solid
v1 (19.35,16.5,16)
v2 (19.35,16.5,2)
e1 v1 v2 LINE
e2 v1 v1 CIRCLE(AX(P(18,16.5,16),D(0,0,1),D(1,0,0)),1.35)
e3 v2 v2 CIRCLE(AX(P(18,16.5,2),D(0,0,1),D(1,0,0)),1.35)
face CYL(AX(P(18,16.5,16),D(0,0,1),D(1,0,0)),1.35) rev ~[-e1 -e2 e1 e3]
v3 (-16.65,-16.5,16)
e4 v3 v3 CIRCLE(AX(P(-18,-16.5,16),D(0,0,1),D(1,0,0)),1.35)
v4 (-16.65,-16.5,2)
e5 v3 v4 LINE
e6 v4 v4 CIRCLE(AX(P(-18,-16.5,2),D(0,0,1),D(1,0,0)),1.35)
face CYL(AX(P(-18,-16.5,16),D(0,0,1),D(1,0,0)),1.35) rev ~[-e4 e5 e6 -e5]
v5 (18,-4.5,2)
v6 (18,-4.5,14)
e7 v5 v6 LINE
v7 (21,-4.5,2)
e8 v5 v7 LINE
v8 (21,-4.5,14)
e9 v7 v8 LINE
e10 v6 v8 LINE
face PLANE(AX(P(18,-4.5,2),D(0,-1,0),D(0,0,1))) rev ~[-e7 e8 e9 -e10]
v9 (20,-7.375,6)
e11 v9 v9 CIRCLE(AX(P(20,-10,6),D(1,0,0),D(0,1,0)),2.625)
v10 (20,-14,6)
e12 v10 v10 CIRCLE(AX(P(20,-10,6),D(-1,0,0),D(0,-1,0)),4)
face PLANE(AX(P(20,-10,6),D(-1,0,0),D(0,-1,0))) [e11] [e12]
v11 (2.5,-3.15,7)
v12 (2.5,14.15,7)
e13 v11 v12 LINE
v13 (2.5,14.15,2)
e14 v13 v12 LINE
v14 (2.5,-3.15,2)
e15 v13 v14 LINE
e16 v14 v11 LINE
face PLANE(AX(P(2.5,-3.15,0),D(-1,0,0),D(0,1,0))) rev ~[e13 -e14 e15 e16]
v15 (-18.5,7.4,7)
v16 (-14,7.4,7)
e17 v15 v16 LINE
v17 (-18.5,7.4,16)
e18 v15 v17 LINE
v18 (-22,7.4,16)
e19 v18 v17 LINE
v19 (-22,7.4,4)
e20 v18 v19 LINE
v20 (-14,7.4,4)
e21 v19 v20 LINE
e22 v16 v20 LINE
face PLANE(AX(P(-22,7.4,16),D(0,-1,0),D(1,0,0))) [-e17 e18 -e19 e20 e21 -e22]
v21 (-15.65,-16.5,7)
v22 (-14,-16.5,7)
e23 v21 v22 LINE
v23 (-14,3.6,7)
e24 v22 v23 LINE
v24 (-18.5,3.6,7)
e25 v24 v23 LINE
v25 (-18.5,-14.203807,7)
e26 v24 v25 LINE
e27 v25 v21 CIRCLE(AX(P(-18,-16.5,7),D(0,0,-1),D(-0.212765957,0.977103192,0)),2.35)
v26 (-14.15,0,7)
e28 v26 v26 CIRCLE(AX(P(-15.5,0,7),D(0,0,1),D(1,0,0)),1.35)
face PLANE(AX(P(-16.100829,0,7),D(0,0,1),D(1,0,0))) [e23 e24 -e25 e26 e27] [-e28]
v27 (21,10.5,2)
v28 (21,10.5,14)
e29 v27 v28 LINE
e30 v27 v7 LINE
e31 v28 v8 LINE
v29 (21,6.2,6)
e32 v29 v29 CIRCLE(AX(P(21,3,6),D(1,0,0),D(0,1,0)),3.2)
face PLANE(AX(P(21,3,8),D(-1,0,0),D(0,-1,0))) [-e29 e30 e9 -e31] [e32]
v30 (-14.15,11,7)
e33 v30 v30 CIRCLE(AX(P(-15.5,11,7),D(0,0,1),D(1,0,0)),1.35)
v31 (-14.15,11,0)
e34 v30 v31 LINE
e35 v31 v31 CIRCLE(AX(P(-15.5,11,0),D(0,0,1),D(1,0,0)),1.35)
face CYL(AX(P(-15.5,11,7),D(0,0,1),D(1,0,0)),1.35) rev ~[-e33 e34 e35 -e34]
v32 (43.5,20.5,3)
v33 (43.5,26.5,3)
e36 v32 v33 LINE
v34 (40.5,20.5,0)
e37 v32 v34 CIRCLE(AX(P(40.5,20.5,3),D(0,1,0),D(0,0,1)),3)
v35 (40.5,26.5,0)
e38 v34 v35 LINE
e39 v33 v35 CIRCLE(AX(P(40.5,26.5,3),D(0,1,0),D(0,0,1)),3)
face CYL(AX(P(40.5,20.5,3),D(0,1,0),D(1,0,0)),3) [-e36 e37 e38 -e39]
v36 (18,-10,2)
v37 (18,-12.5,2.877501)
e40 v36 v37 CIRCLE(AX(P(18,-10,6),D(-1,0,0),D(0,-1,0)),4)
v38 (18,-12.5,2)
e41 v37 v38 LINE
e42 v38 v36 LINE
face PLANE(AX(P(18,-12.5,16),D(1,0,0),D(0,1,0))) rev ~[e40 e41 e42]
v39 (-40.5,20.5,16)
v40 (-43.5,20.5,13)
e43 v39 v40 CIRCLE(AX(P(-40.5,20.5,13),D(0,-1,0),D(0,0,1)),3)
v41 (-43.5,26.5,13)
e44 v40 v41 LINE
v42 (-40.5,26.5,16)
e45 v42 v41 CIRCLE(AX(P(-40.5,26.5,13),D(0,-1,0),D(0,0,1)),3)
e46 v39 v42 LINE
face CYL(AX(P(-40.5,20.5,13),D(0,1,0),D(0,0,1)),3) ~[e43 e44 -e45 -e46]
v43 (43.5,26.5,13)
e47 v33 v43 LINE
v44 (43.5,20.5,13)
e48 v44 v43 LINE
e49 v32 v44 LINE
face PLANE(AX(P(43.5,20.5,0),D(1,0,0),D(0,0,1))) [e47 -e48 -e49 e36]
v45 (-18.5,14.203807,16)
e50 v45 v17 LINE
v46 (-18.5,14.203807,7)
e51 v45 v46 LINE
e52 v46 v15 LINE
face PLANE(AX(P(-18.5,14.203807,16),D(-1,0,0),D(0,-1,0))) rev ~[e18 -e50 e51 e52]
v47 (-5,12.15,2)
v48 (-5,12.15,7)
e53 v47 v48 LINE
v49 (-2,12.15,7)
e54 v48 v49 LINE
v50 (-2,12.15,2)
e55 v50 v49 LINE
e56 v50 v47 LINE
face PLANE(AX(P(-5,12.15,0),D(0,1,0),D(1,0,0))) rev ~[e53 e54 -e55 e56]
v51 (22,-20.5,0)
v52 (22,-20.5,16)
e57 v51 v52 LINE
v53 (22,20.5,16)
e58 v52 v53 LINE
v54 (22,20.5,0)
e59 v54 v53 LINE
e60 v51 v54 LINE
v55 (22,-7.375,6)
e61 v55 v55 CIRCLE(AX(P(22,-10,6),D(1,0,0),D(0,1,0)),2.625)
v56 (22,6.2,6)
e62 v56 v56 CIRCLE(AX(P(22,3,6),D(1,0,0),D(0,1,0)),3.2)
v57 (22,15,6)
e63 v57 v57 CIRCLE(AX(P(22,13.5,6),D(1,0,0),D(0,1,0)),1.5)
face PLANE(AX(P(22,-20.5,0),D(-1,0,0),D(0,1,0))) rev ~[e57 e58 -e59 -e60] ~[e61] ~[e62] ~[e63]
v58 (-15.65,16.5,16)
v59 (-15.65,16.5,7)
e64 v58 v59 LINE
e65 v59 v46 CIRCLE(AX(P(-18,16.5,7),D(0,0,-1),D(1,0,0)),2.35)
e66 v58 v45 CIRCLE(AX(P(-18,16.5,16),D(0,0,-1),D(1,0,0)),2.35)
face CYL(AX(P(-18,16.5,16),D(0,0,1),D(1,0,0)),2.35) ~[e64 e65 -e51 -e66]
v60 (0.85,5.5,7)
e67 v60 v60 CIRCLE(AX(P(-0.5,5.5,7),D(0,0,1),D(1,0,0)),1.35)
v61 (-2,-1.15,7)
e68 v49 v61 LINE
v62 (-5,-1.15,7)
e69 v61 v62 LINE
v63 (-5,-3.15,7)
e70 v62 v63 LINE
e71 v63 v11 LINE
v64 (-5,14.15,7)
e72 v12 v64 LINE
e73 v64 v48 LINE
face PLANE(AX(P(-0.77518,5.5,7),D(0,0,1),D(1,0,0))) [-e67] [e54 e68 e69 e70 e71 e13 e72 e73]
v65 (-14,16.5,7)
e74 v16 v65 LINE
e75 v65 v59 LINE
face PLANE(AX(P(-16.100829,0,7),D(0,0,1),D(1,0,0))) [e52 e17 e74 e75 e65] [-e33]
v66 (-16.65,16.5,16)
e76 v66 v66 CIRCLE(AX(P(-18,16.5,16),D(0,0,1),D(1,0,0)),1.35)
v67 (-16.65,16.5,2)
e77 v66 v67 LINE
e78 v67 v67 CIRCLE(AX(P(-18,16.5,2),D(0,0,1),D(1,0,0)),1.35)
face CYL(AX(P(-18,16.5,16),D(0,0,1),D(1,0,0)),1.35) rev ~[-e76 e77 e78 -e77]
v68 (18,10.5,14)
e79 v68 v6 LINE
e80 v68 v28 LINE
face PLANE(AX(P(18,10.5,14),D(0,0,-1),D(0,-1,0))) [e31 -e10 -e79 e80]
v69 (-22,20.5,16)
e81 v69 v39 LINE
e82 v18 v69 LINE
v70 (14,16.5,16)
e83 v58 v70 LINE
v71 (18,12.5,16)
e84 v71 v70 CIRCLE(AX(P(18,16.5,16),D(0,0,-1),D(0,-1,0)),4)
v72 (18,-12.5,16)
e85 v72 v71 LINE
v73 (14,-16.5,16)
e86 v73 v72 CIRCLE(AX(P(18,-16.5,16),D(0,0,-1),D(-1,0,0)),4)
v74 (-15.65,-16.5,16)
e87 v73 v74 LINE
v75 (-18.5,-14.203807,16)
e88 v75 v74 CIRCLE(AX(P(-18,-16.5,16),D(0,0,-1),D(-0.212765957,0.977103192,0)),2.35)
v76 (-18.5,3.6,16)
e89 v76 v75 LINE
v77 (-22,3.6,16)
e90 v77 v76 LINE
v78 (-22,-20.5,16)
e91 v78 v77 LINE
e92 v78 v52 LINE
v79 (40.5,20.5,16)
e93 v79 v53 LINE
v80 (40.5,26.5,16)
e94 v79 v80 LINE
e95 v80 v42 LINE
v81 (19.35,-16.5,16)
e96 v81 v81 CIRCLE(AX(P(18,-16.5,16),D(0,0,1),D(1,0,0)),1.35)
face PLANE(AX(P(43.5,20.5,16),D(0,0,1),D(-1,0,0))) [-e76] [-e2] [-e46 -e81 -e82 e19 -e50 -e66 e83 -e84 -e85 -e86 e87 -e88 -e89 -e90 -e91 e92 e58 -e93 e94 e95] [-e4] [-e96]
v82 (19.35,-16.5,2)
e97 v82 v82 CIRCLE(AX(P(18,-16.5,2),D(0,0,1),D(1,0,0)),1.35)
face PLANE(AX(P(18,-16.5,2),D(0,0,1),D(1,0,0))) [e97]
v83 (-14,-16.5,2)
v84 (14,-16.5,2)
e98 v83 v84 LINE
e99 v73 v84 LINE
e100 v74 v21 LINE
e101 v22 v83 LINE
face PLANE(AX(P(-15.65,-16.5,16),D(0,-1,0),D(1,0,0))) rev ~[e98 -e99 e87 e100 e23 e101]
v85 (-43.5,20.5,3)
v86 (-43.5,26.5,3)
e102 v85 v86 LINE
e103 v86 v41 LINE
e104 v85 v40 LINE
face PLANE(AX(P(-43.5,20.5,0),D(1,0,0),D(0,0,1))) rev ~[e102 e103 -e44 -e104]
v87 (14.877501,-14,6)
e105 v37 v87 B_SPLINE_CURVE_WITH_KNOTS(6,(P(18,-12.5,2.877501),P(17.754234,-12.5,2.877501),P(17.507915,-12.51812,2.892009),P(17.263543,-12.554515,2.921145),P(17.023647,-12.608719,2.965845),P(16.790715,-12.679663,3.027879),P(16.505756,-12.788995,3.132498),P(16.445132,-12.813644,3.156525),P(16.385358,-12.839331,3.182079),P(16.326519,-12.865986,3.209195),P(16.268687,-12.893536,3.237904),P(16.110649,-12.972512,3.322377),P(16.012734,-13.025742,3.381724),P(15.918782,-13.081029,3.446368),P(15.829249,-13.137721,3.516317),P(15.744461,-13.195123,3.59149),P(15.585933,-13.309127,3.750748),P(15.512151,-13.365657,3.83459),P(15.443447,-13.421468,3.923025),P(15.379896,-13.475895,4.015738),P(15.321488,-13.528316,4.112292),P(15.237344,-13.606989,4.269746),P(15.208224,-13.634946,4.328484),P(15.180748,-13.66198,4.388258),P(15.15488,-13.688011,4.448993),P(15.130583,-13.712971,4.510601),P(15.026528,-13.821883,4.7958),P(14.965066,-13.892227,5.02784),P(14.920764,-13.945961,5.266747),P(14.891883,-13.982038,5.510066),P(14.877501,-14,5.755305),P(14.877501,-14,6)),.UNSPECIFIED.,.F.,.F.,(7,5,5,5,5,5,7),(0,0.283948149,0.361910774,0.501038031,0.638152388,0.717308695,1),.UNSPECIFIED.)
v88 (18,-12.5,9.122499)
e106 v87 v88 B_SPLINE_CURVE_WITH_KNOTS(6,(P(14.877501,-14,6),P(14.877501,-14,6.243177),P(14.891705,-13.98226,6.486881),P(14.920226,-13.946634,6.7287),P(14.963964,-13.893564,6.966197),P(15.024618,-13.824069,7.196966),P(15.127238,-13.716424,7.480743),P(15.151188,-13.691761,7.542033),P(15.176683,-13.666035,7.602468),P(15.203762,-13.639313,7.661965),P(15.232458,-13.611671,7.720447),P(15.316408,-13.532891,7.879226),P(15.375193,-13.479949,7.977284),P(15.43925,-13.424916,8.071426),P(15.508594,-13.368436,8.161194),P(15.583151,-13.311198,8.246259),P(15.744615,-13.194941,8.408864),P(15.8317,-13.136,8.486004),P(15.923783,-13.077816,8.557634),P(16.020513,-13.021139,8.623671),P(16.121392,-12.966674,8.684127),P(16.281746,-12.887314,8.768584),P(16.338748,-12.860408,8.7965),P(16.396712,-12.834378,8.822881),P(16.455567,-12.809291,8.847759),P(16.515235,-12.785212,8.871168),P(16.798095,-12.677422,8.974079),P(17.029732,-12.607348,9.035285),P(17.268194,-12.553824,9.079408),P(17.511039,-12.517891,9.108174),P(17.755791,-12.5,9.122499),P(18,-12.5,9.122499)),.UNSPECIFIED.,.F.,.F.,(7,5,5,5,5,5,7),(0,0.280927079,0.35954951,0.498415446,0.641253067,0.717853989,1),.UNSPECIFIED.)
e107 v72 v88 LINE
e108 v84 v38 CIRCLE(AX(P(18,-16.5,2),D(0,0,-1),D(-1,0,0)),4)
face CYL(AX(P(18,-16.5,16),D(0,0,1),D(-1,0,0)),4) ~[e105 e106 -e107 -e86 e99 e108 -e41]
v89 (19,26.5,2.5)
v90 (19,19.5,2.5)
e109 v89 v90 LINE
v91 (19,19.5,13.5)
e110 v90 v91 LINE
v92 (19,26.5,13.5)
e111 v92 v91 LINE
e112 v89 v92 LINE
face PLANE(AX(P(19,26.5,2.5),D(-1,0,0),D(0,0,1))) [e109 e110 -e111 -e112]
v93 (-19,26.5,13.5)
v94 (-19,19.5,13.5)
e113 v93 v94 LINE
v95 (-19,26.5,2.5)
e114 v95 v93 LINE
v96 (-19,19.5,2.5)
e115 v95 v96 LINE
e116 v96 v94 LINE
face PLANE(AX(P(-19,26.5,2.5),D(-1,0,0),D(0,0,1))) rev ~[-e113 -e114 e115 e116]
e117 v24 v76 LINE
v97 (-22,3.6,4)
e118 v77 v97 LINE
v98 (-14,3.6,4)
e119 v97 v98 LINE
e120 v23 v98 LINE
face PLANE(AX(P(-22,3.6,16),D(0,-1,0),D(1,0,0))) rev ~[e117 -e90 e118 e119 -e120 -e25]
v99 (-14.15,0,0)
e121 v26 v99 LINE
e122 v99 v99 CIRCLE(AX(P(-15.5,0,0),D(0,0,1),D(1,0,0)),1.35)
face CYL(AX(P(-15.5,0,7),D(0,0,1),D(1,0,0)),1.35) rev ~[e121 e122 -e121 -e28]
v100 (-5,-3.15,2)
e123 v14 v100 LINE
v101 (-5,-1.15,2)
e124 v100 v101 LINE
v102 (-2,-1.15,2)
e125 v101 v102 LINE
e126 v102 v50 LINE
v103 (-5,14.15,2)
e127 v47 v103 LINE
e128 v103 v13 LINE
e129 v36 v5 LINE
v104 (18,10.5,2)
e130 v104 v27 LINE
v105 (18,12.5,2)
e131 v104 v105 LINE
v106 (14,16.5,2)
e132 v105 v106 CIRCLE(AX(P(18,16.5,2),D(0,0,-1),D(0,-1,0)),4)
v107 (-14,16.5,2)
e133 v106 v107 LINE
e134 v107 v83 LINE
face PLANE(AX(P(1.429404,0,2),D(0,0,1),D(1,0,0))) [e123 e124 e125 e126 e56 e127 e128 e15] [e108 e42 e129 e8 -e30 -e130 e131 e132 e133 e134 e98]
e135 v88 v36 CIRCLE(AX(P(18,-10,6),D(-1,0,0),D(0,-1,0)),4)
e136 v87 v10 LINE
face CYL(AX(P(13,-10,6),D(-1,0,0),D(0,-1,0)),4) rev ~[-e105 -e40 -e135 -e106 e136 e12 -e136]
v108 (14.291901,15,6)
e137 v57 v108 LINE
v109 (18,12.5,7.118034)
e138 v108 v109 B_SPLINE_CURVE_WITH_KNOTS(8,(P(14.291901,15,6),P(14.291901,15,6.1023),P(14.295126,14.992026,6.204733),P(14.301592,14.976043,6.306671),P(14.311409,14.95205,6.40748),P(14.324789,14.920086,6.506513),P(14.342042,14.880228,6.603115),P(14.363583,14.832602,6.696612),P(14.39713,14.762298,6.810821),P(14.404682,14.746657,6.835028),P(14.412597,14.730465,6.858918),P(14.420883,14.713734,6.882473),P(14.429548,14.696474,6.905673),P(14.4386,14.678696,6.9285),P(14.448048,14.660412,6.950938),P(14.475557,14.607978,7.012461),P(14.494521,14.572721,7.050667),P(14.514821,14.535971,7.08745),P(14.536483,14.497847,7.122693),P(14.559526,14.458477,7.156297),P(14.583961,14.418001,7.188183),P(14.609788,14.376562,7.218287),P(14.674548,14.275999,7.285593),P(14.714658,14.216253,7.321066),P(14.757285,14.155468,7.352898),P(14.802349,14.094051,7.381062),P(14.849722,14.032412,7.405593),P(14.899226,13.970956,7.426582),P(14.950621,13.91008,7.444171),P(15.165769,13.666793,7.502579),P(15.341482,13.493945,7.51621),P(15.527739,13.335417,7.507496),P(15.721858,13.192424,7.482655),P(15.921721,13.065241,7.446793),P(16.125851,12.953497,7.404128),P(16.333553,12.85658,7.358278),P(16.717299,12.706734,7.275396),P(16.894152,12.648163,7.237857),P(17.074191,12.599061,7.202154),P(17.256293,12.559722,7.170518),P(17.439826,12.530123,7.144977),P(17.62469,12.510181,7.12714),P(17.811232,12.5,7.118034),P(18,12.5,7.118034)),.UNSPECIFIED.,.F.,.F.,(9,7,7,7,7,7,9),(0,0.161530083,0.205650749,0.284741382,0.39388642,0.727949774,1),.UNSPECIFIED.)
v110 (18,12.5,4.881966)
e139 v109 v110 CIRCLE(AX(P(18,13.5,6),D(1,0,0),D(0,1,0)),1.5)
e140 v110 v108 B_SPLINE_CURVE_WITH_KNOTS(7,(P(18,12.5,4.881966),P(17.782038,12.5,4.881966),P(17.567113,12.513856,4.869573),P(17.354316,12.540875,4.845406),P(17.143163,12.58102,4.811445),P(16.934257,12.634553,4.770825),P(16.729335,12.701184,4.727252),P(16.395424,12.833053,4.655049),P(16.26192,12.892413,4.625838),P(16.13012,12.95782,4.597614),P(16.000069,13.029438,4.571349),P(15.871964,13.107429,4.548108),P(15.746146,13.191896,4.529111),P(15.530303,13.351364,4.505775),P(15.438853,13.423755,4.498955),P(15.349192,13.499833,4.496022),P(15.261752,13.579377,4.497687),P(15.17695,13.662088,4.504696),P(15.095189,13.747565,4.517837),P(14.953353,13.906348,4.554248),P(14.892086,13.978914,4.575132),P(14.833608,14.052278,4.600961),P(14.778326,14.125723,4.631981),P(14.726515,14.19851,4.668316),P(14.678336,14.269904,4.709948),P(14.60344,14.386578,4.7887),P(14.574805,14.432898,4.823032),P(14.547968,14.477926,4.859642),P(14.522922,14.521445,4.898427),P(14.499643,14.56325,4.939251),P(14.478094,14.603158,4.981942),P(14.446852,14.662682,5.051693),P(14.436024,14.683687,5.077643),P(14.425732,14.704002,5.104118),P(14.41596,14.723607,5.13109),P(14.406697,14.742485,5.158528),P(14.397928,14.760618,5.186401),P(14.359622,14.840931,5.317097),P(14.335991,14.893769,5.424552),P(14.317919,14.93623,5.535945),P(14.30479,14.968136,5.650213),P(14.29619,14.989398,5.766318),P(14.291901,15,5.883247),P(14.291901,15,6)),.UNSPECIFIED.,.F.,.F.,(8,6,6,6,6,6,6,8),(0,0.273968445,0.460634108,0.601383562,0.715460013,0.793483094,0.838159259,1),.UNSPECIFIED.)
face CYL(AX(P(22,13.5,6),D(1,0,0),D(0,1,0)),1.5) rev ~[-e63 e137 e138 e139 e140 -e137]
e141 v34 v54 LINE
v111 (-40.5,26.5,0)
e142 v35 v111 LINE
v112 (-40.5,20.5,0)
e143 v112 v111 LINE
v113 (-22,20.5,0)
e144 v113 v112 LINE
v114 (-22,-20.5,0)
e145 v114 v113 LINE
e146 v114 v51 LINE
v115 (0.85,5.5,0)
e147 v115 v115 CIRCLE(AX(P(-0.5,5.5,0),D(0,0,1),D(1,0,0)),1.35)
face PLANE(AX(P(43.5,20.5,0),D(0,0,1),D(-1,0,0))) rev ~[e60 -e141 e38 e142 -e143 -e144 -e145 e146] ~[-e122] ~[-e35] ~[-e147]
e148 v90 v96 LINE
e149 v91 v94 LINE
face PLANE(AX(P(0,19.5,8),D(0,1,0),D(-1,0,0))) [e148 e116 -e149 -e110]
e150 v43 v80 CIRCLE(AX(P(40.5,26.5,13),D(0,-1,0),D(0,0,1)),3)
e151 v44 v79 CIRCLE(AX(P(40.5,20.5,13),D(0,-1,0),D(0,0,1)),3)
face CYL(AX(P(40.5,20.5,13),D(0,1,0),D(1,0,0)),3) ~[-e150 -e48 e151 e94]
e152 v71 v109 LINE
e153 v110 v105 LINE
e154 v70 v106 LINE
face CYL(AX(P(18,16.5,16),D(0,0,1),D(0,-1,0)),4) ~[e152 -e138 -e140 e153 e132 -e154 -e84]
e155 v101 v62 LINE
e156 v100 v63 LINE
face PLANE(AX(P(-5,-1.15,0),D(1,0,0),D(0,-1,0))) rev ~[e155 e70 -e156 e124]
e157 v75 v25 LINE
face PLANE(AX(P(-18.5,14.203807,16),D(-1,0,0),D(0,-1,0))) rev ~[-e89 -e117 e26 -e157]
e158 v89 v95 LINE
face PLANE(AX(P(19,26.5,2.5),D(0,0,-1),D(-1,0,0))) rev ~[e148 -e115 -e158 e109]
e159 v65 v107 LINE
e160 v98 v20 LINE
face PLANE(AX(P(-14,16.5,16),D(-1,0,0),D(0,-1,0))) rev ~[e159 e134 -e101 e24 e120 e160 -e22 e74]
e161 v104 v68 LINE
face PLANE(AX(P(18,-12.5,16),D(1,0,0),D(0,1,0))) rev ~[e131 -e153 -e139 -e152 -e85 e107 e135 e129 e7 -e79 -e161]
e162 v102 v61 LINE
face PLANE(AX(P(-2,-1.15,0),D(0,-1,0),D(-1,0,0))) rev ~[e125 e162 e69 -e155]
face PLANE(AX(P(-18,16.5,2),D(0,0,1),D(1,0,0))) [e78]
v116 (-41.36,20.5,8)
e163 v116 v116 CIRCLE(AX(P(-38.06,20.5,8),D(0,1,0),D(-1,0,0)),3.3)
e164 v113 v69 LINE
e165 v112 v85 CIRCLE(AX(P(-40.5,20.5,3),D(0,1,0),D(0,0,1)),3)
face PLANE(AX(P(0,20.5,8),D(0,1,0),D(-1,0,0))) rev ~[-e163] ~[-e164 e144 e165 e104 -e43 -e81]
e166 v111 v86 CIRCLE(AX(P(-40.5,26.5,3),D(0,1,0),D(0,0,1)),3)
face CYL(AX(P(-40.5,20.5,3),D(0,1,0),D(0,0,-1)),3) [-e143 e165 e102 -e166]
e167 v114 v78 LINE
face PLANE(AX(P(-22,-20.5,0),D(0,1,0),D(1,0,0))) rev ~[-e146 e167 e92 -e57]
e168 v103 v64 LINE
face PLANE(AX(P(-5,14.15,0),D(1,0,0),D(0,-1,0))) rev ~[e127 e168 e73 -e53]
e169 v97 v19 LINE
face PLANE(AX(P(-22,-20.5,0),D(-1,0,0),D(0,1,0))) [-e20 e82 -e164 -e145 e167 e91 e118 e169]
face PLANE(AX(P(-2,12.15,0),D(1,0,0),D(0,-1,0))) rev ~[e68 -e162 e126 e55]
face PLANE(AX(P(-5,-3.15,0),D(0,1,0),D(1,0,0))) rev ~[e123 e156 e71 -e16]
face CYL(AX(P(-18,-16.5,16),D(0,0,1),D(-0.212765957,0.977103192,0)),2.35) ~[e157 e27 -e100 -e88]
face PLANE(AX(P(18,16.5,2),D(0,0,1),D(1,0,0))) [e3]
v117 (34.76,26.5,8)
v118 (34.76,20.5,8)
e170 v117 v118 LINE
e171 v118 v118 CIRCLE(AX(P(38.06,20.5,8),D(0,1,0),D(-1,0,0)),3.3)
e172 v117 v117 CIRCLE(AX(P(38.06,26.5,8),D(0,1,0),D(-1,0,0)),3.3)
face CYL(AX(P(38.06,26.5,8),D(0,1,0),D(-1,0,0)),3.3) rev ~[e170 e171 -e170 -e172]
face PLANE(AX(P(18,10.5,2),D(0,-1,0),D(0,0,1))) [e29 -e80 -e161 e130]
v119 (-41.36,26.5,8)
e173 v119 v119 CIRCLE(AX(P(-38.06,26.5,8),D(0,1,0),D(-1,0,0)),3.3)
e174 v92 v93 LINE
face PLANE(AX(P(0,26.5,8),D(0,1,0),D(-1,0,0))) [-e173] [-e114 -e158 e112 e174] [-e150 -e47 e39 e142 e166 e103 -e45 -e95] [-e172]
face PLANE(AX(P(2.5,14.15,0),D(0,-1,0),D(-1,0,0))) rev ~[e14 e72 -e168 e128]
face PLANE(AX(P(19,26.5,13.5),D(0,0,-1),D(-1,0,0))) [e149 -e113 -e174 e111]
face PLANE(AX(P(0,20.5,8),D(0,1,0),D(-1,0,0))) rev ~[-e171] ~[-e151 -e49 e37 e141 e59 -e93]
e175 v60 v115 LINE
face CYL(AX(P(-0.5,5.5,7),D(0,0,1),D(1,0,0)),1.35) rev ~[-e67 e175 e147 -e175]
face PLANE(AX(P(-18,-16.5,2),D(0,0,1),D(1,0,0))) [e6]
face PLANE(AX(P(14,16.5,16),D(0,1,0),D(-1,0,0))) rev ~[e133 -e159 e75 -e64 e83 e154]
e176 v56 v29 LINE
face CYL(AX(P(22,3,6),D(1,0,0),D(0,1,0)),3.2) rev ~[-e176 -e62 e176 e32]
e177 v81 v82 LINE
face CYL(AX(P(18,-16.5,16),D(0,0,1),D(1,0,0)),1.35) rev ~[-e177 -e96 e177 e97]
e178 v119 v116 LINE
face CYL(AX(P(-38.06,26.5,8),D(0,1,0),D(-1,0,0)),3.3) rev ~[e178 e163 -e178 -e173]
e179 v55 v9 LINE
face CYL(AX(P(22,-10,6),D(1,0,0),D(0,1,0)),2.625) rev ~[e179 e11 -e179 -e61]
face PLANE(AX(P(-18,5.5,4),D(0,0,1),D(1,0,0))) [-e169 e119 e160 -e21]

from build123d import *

# Parameters (mm, degrees)
F0_W      = 44
F0_H      = 41
F1_DEPTH  = 16
F2_R      = 1.35
F3_DEPTH  = 14
F6_DEPTH  = 9
F7_DEPTH  = 7
F8_R      = 1.35
F9_DEPTH  = 7.001
F11_R     = 3.2
F11_R_2   = 1.5
F11_R_3   = 2.625
F12_DEPTH = 10
F13_W     = 8
F13_H     = 3.8
F14_DEPTH = 12
F15_W     = 87
F15_H     = 16
F16_DEPTH = 6
F17_R     = 3.3
F18_DEPTH = 47.001
F19_R     = 3
F20_W     = 15
F20_H     = 12
F21_DEPTH = 3
F22_W     = 38
F22_H     = 11
F23_DEPTH = 7
F25_R     = 4
F26_DEPTH = 7


with BuildPart() as f1:
    # F0 (on Top) → F1 (new body)
    with BuildSketch(Plane.XY):
        Rectangle(F0_W, F0_H)
    extrude(amount=F1_DEPTH)

    # F2 (on face) → F3 (cut)
    with BuildSketch(Plane.XY.offset(16)):
        with BuildLine():
            Line((14, 16.5), (-14, 16.5))
            Line((-14, 16.5), (-14, -16.5))
            Line((-14, -16.5), (14, -16.5))
            ThreePointArc((14, -16.5), (15.1715728753, -13.6715728753), (18, -12.5))
            Line((18, -12.5), (18, 12.5))
            ThreePointArc((18, 12.5), (15.1715728753, 13.6715728753), (14, 16.5))
        make_face()
        with Locations((-18, 16.5)):
            Circle(F2_R)
        with Locations((18, 16.5)):
            Circle(F2_R)
        with Locations((-18, -16.5)):
            Circle(F2_R)
        with Locations((18, -16.5)):
            Circle(F2_R)
    extrude(amount=-F3_DEPTH, mode=Mode.SUBTRACT)

    # F5 (on face) → F6 (cut)
    with BuildSketch(Plane.XY.offset(16)):
        with BuildLine():
            ThreePointArc((-15.65, 16.5), (-16.5256357302, 14.6700409841), (-18.5, 14.2038074994))
            Line((-18.5, 14.2038074994), (-18.5, -14.2038074994))
            ThreePointArc((-18.5, -14.2038074994), (-16.5256357302, -14.6700409841), (-15.65, -16.5))
            Line((-15.65, -16.5), (-14, -16.5))
            Line((-14, -16.5), (-14, 16.5))
            Line((-14, 16.5), (-15.65, 16.5))
        make_face()
    extrude(amount=-F6_DEPTH, mode=Mode.SUBTRACT)

    # F4 (on Top) → F7 (join)
    with BuildSketch(Plane.XY):
        Polygon((-5, -1.15), (-5, -3.15), (2.5, -3.15), (2.5, 14.15), (-5, 14.15), (-5, 12.15), (-2, 12.15), (-2, -1.15), align=None)
    extrude(amount=F7_DEPTH)

    # F8 (on face) → F9 (cut, through all)
    with BuildSketch(Plane.XY.offset(7)):
        with Locations((-0.5, 5.5)):
            Circle(F8_R)
        with Locations((-15.5, 11)):
            Circle(F8_R)
        with Locations((-15.5, 0)):
            Circle(F8_R)
    extrude(amount=-F9_DEPTH, mode=Mode.SUBTRACT)

    # F11 (on face) → F12 (cut)
    with BuildSketch(Plane.YZ.offset(22)):
        with Locations((3, 6)):
            Circle(F11_R)
        with Locations((13.5, 6)):
            Circle(F11_R_2)
        with Locations((-10, 6)):
            Circle(F11_R_3)
    extrude(amount=-F12_DEPTH, mode=Mode.SUBTRACT)

    # F13 (on face) → F14 (cut)
    with BuildSketch(Plane.XY.offset(16)):
        with Locations((-18, 5.5)):
            Rectangle(F13_W, F13_H)
    extrude(amount=-F14_DEPTH, mode=Mode.SUBTRACT)

    # F15 (on face) → F16 (join)
    with BuildSketch(Plane(origin=(0, 20.5, 0), x_dir=(-1, 0, 0), z_dir=(0, 1, 0))):
        with Locations((0, 8)):
            Rectangle(F15_W, F15_H)
    extrude(amount=F16_DEPTH)

    # F17 (on face) → F18 (cut, through all)
    with BuildSketch(Plane(origin=(0, 26.5, 0), x_dir=(-1, 0, 0), z_dir=(0, 1, 0))):
        with Locations((38.06, 8)):
            Circle(F17_R)
        with Locations((-38.06, 8)):
            Circle(F17_R)
    extrude(amount=-F18_DEPTH, mode=Mode.SUBTRACT)

    # F19
    f19_edges = [f1.edges().sort_by_distance(p)[0] for p in [
        (43.5, 23.5, 16),
        (43.5, 23.5, 0),
        (-43.5, 23.5, 0),
        (-43.5, 23.5, 16),
    ]]
    fillet(f19_edges, radius=F19_R)

    # F20 (on face) → F21 (cut)
    with BuildSketch(Plane(origin=(18, 0, 0), x_dir=(0, -1, 0), z_dir=(-1, 0, 0))):
        with Locations((-3, 8)):
            Rectangle(F20_W, F20_H)
    extrude(amount=-F21_DEPTH, mode=Mode.SUBTRACT)

    # F22 (on face) → F23 (cut)
    with BuildSketch(Plane(origin=(0, 26.5, 0), x_dir=(-1, 0, 0), z_dir=(0, 1, 0))):
        with Locations((0, 8)):
            Rectangle(F22_W, F22_H)
    extrude(amount=-F23_DEPTH, mode=Mode.SUBTRACT)

    # F25 (on offset) → F26 (cut)
    with BuildSketch(Plane(origin=(13, 0, 0), x_dir=(0, -1, 0), z_dir=(-1, 0, 0))):
        with Locations((10, 6)):
            Circle(F25_R)
    extrude(amount=-F26_DEPTH, mode=Mode.SUBTRACT)


solid = f1.part
